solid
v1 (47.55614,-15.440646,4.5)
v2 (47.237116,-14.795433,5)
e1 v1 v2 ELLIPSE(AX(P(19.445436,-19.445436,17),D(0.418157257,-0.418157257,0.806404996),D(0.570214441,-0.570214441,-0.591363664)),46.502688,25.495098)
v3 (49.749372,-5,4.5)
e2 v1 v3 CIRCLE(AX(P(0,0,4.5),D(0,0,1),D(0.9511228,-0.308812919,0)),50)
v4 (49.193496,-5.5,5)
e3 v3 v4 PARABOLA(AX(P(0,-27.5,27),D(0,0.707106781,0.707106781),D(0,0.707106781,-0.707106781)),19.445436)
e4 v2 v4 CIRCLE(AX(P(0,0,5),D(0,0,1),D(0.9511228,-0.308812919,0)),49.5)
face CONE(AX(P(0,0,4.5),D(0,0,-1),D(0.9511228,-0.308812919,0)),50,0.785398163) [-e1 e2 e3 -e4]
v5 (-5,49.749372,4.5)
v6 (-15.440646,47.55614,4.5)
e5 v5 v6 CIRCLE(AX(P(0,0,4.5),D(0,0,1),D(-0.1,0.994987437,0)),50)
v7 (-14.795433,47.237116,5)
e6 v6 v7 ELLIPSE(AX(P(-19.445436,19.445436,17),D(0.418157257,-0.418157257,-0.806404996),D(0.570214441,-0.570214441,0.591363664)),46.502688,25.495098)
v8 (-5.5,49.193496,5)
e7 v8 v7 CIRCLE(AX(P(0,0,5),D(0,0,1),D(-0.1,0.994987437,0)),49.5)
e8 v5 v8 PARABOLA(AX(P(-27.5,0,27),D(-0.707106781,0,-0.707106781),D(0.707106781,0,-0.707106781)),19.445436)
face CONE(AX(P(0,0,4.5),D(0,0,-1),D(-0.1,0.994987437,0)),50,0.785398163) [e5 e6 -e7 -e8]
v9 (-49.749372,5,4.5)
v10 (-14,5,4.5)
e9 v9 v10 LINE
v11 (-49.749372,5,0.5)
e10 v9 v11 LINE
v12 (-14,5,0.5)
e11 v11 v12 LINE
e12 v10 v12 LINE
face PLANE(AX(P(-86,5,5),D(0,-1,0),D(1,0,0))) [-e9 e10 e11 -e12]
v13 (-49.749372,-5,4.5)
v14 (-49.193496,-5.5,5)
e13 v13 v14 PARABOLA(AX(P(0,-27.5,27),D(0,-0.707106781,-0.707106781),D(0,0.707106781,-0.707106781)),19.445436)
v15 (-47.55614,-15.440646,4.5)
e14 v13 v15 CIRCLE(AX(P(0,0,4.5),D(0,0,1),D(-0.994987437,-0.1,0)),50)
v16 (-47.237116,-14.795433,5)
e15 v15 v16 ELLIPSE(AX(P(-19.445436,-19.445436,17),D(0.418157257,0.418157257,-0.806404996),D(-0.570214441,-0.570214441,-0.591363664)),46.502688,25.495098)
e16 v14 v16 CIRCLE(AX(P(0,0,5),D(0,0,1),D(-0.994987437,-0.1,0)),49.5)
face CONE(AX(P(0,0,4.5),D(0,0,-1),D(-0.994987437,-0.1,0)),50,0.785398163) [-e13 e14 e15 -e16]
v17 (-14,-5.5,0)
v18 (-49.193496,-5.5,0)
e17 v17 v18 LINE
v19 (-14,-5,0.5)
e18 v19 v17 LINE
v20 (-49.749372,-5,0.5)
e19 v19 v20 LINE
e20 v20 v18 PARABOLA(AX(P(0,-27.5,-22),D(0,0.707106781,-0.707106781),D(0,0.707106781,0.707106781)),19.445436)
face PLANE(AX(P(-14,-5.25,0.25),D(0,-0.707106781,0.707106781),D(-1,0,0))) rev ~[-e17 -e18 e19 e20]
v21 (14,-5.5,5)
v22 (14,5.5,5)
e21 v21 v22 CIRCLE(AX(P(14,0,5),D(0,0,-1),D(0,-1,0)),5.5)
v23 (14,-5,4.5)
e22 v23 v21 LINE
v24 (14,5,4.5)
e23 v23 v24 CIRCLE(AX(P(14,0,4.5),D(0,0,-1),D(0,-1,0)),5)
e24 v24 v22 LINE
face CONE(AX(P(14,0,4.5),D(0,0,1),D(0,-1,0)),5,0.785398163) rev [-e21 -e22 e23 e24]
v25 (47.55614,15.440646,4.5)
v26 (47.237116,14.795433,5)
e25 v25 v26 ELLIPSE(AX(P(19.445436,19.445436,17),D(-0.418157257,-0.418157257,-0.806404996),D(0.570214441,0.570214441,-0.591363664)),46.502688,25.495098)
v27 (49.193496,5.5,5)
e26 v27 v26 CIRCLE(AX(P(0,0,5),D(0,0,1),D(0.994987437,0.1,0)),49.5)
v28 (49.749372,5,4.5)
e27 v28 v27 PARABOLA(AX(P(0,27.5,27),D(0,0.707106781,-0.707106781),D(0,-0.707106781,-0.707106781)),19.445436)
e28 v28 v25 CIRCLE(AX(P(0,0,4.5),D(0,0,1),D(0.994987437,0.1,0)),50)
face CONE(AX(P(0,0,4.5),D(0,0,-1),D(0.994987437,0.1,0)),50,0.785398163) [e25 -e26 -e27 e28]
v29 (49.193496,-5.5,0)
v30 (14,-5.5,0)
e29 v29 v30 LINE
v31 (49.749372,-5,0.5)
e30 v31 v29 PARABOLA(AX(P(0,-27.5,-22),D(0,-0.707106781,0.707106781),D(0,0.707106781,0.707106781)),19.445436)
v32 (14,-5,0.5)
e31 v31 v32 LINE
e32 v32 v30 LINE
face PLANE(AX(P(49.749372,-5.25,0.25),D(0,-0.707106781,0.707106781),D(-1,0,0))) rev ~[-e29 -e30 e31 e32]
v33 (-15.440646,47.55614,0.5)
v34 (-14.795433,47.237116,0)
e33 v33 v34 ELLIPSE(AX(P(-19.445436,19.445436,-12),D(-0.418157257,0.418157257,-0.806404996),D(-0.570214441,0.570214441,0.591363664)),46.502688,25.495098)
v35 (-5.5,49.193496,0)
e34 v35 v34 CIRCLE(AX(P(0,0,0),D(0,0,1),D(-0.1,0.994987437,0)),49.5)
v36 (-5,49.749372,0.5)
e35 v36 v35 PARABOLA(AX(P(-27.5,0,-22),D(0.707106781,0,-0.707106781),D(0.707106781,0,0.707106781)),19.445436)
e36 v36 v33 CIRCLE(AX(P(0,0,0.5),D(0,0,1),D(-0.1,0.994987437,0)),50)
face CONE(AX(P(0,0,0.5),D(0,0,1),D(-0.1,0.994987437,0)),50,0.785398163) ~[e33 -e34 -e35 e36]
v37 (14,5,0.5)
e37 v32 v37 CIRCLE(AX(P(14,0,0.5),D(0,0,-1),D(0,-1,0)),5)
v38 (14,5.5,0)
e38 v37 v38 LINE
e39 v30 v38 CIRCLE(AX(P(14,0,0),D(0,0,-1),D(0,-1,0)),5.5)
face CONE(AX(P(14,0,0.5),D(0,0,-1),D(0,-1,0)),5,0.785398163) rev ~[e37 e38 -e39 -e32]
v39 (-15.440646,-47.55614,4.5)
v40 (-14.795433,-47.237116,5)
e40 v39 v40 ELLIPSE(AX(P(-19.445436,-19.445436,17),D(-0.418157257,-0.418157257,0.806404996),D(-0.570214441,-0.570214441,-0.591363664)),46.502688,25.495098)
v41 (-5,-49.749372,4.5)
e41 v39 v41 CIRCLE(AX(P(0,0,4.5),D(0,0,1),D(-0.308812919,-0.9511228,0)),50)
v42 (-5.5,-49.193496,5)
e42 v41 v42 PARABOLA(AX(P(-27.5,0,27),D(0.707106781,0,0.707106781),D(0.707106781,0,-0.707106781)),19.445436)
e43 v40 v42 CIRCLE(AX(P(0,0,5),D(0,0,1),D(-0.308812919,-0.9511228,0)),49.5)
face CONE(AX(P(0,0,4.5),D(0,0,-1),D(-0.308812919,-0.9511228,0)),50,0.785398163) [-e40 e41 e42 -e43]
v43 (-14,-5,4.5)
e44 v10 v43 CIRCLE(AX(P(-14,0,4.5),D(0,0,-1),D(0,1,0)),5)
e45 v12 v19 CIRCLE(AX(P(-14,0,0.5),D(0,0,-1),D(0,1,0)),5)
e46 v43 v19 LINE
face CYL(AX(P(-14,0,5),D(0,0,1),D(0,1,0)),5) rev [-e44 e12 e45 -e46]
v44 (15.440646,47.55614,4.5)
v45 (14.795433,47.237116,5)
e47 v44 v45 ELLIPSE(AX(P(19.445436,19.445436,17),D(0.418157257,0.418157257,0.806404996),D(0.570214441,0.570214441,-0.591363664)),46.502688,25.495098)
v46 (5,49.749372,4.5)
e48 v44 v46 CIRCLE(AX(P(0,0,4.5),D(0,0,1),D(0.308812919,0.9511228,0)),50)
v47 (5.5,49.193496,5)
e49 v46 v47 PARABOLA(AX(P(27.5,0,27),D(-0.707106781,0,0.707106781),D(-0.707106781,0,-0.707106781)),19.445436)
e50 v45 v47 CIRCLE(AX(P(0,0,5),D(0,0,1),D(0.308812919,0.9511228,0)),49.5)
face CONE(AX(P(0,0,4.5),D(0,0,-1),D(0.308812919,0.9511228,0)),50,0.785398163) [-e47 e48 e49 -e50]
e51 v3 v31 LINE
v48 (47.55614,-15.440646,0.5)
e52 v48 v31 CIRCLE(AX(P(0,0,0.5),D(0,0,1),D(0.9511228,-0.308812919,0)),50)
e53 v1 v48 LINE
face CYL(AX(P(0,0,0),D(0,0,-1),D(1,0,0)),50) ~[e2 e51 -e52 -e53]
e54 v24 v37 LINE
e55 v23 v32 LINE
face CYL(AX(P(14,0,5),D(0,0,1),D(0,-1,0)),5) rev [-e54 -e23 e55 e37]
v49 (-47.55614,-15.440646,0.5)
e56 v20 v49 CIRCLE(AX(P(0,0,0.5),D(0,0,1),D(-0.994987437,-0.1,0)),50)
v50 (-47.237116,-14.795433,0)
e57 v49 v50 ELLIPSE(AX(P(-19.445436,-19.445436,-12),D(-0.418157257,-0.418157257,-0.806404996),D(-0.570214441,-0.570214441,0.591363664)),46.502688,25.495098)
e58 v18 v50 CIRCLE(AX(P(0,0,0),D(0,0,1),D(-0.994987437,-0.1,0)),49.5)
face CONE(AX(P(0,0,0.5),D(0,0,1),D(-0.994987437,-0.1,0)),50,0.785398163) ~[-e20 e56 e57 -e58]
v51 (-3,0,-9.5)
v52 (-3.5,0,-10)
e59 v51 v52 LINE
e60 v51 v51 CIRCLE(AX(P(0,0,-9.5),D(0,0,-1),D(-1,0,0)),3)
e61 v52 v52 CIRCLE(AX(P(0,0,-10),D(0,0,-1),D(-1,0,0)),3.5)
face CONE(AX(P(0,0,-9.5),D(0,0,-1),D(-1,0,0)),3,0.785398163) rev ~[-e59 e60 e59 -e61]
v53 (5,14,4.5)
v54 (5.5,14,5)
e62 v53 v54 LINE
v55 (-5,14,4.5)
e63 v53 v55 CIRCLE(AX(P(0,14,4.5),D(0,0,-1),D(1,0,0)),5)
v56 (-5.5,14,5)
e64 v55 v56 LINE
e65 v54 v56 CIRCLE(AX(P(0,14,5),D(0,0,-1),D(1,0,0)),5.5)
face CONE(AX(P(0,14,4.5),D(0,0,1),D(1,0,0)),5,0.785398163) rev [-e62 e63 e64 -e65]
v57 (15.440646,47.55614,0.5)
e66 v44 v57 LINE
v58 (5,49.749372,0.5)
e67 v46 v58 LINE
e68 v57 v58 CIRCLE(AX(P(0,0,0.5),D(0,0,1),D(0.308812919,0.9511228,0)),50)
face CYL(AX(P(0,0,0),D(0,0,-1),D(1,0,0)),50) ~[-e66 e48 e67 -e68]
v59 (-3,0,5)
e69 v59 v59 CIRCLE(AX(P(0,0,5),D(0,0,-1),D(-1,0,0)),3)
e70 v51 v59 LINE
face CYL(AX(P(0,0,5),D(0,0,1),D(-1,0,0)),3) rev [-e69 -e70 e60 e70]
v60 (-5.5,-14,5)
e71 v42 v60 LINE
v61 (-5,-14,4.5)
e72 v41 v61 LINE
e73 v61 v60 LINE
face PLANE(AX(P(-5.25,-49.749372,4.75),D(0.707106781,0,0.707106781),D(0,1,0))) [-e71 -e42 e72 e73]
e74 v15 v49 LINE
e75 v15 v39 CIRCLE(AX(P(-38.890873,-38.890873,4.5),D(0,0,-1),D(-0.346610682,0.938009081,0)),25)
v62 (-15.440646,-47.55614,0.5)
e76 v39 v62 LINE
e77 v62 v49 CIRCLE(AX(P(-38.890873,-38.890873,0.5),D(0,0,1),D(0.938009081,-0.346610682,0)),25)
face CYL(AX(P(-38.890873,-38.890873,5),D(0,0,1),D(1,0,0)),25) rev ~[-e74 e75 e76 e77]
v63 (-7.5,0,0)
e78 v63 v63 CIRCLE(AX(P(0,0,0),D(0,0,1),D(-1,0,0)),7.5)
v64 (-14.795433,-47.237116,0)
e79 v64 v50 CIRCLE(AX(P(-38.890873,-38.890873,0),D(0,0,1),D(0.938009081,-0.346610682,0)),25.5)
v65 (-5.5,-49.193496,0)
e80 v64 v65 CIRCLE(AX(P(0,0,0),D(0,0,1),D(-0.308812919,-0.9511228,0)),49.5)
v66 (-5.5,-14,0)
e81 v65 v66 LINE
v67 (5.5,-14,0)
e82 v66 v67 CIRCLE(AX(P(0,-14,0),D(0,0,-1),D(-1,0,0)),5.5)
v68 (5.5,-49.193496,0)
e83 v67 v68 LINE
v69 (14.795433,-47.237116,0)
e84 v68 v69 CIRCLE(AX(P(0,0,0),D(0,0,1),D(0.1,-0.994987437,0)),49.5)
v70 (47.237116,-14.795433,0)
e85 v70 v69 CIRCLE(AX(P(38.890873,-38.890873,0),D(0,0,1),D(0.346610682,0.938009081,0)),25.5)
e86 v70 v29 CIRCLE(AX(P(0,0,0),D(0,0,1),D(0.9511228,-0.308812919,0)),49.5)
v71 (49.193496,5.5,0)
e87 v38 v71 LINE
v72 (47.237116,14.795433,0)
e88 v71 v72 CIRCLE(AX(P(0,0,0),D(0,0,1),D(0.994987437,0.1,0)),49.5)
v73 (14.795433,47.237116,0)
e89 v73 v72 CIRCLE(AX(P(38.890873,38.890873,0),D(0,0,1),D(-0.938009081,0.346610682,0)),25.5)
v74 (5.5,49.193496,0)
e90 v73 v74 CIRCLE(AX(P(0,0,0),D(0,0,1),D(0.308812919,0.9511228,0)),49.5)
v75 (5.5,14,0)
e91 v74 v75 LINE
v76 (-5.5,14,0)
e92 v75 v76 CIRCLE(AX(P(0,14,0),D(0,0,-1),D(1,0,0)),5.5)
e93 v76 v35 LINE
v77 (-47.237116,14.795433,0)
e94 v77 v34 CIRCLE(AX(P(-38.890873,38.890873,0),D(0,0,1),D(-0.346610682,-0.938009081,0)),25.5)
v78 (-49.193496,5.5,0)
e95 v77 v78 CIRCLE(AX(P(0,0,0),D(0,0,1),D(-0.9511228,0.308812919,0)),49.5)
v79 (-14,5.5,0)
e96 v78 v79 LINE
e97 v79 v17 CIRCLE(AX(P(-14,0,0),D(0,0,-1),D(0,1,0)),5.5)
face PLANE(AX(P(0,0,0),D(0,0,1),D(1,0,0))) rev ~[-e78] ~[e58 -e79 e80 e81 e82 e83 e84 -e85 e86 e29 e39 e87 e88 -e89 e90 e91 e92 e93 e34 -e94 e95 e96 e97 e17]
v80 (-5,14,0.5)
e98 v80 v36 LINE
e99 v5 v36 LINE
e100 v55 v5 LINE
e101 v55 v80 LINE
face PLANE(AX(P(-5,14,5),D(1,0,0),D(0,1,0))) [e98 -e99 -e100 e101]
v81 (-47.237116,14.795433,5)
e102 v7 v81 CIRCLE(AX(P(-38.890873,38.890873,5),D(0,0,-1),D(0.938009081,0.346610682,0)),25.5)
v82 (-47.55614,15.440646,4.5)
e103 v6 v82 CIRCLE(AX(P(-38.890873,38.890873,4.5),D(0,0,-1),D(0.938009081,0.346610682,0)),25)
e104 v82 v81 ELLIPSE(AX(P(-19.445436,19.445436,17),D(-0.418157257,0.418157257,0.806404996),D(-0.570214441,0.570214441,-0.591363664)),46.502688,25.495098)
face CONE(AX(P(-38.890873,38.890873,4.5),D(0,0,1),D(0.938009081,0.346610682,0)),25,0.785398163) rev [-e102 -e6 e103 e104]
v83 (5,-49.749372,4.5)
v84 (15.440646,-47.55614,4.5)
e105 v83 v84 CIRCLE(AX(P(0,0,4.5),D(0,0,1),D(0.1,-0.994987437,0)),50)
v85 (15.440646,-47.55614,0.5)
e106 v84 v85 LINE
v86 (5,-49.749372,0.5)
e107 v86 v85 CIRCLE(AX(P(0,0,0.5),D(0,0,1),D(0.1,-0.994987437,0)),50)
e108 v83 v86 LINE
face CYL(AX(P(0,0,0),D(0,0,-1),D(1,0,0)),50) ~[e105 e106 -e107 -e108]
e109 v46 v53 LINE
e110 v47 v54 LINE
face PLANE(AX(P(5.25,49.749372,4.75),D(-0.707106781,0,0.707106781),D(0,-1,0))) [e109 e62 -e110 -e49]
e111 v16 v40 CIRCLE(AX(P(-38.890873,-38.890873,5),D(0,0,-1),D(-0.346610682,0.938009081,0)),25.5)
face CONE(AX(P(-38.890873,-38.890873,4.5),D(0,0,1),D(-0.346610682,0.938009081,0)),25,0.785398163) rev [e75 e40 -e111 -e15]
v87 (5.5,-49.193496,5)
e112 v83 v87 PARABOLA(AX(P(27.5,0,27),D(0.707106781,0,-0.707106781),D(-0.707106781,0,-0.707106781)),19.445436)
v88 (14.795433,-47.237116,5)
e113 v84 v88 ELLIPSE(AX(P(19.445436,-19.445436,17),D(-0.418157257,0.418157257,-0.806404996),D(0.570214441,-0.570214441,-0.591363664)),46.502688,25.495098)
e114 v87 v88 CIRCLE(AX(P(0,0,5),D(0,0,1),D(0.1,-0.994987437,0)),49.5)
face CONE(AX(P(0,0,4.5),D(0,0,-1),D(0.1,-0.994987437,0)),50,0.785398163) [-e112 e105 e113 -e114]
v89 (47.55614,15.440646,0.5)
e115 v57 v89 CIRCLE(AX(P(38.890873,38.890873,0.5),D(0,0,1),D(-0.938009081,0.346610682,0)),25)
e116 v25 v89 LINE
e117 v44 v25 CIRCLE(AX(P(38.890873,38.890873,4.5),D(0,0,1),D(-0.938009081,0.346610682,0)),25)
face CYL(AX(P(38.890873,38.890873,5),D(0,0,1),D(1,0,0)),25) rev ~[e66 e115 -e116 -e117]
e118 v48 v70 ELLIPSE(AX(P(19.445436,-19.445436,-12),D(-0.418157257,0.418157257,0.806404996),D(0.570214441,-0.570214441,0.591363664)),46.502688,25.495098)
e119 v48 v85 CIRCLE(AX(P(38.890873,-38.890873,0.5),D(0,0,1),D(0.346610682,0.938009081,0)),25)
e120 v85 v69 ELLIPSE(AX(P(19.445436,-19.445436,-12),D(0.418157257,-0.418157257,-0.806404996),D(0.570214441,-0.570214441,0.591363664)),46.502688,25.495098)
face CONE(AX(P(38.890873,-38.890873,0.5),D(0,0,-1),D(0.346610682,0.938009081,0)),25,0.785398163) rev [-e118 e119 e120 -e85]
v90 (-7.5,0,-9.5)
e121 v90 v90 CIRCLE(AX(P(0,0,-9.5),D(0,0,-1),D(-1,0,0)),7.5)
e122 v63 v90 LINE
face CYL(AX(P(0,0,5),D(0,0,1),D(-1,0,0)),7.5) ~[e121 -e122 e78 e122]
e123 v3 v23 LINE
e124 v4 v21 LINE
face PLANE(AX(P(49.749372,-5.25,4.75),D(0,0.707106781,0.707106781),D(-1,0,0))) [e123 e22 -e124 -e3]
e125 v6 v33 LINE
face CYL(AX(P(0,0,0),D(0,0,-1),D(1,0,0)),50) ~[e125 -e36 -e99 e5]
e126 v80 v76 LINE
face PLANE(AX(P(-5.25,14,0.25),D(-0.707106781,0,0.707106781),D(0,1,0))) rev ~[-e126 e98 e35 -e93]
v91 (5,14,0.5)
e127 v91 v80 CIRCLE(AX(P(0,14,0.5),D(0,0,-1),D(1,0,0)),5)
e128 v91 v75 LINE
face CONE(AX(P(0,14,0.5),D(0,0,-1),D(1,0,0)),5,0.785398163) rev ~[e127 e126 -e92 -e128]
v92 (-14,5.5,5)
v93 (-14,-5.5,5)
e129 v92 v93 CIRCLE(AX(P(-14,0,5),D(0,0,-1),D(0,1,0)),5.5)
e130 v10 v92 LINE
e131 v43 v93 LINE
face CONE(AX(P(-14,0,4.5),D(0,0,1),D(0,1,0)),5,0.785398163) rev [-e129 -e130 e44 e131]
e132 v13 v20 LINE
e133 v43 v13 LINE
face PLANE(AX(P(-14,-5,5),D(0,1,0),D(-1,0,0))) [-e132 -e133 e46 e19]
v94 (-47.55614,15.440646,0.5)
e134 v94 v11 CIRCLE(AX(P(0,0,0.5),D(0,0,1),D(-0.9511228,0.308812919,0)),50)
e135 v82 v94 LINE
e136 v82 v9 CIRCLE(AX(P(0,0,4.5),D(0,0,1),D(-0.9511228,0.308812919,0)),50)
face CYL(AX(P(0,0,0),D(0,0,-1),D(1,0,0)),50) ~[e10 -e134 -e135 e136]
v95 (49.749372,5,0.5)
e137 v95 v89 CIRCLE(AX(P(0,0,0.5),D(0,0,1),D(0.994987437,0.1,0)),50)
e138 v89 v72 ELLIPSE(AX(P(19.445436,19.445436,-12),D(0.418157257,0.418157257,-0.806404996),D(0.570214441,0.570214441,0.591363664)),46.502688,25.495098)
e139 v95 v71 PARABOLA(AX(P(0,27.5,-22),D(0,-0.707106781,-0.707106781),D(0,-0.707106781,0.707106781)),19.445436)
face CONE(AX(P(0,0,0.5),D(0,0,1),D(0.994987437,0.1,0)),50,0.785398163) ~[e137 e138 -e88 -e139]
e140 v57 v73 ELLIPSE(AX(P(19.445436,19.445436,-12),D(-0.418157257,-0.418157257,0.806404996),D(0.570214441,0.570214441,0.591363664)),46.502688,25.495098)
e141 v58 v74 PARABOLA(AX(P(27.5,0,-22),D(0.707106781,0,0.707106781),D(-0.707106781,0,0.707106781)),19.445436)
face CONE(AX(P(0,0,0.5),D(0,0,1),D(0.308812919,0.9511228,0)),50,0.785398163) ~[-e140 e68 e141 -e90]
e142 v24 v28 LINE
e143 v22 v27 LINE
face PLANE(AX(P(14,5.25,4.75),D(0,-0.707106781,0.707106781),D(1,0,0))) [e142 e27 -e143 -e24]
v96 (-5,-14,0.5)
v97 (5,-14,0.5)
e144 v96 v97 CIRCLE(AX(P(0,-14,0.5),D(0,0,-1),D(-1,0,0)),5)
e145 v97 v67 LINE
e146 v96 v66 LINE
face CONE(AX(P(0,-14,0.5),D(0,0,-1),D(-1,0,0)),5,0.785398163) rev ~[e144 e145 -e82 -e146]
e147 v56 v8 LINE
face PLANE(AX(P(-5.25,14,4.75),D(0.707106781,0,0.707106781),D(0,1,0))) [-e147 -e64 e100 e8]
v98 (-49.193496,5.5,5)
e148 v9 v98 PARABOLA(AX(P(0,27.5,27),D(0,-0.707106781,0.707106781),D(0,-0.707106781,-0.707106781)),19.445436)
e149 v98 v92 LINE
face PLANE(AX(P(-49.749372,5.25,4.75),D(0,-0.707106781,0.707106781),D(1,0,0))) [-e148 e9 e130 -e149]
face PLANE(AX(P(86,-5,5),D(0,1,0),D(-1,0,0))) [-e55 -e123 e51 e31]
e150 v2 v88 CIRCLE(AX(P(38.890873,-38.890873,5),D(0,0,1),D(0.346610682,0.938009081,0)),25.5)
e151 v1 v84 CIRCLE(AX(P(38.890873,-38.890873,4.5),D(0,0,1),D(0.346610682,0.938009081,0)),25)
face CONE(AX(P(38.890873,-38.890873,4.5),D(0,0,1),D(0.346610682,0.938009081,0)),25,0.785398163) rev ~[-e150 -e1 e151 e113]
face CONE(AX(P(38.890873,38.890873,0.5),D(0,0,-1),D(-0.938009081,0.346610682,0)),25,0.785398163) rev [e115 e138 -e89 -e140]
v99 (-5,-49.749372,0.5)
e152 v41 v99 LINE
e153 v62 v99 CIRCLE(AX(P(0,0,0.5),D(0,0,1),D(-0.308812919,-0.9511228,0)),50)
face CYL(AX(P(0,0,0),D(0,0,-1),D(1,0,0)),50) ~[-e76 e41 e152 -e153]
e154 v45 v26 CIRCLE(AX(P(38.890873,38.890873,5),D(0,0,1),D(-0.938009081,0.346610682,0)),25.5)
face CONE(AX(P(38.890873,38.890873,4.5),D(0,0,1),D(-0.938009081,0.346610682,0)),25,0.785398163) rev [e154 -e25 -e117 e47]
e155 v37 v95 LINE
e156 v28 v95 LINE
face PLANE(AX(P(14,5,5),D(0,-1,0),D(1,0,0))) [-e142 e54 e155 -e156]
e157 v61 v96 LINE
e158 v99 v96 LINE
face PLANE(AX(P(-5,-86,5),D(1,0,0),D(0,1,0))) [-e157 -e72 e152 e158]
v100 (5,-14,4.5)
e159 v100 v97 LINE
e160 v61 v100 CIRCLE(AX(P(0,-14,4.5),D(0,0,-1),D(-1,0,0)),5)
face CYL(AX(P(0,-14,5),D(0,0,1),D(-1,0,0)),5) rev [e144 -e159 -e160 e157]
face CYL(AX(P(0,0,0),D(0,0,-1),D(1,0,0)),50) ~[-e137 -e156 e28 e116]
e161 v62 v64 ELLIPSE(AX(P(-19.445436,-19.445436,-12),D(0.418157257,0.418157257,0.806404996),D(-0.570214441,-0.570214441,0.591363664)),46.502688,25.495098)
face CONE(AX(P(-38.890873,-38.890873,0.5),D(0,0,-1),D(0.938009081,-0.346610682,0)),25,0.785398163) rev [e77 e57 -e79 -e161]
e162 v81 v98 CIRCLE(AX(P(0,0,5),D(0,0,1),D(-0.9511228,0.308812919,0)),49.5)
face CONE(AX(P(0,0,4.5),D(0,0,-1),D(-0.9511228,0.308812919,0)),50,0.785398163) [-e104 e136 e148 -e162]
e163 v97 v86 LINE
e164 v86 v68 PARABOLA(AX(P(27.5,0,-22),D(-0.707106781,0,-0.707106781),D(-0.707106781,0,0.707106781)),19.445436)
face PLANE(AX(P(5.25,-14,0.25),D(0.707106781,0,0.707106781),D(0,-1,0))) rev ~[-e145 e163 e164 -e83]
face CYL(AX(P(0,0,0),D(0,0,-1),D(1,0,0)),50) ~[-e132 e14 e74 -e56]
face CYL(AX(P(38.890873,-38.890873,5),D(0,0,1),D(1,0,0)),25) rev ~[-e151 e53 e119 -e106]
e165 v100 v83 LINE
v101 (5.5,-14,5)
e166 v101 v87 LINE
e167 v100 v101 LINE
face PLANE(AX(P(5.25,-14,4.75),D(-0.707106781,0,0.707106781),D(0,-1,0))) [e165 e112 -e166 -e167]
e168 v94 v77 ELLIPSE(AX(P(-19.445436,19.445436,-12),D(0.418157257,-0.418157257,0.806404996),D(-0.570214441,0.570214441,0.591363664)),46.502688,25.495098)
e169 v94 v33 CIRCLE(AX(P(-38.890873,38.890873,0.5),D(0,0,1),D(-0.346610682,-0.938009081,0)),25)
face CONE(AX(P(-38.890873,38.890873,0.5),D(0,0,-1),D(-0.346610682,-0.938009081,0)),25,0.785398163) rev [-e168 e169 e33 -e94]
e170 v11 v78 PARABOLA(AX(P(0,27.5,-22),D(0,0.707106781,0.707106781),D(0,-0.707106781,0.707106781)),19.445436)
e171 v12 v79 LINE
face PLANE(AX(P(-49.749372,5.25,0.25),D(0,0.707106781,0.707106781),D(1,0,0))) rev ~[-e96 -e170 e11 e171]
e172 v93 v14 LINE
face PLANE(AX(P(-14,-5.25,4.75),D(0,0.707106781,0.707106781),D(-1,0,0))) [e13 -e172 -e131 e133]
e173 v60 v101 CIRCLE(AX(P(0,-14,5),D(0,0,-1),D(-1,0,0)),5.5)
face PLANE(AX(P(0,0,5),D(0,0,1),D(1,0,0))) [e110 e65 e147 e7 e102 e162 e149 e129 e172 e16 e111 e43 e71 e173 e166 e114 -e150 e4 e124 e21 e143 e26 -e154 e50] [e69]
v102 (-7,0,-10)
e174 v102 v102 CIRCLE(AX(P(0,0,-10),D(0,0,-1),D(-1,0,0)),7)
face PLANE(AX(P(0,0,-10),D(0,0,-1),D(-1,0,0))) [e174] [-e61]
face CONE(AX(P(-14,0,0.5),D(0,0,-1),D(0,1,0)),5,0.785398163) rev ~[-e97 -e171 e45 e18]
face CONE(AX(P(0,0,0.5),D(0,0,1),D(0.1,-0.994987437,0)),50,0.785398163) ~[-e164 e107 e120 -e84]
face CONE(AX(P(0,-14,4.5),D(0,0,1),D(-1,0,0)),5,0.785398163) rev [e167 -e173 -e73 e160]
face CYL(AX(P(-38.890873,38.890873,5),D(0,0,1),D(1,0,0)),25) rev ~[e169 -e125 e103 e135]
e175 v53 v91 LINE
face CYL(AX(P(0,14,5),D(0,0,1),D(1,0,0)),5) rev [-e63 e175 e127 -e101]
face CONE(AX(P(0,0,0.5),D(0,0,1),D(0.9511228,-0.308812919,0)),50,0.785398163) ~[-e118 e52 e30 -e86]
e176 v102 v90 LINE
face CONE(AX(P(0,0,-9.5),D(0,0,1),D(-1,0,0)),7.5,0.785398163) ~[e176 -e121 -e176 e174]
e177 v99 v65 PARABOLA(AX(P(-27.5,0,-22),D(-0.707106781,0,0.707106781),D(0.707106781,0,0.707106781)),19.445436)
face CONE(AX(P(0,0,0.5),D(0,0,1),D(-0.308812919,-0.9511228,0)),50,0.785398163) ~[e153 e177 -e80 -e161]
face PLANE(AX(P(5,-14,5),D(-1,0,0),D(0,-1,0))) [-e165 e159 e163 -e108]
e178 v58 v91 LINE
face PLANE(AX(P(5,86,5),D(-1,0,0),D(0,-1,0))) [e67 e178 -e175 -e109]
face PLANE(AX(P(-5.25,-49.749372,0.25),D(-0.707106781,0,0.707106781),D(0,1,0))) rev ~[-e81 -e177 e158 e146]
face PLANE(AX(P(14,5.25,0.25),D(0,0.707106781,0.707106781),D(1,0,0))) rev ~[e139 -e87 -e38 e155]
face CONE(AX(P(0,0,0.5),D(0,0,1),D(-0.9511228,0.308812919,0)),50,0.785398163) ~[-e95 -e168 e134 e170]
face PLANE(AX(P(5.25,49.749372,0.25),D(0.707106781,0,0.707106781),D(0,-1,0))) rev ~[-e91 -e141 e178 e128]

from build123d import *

# Parameters (mm, degrees)
SKETCH1_R                = 50
SKETCH1_R_2              = 3
BOSS_EXTRUDE1_DEPTH      = 5
SKETCH2_R                = 25
CUT_EXTRUDE1_DEPTH       = 71.887234394
CHAMFER1_SIZE            = 0.5
BOSS_EXTRUDE3_DEPTH      = 10
BOSS_EXTRUDE3_DEPTH_BACK = 5
SKETCH4_R                = 7.5
SKETCH4_R_2              = 3
CHAMFER2_SIZE            = 0.5


with BuildPart() as part:
    # Sketch1 → Boss-Extrude1 (new body)
    with BuildSketch(Plane.XY):
        Circle(SKETCH1_R)
        Circle(SKETCH1_R_2, mode=Mode.SUBTRACT)
    extrude(amount=BOSS_EXTRUDE1_DEPTH)

    # Sketch2 → Cut-Extrude1 (cut, through all)
    with BuildSketch(Plane.XY.offset(5)):
        with Locations((38.890872965, 38.890872965)):
            Circle(SKETCH2_R)
        with Locations((38.890872965, -38.890872965)):
            Circle(SKETCH2_R)
        with Locations((-38.890872965, -38.890872965)):
            Circle(SKETCH2_R)
        with Locations((-38.890872965, 38.890872965)):
            Circle(SKETCH2_R)
        with BuildLine():
            Line((-5, 14), (-5, 86))
            ThreePointArc((-5, 86), (0, 91), (5, 86))
            Line((5, 86), (5, 14))
            ThreePointArc((5, 14), (0, 9), (-5, 14))
        make_face()
        with BuildLine():
            Line((14, 5), (86, 5))
            ThreePointArc((86, 5), (91, 0), (86, -5))
            Line((86, -5), (14, -5))
            ThreePointArc((14, -5), (9, 0), (14, 5))
        make_face()
        with BuildLine():
            Line((5, -14), (5, -86))
            ThreePointArc((5, -86), (0, -91), (-5, -86))
            Line((-5, -86), (-5, -14))
            ThreePointArc((-5, -14), (0, -9), (5, -14))
        make_face()
        with BuildLine():
            Line((-14, -5), (-86, -5))
            ThreePointArc((-86, -5), (-91, 0), (-86, 5))
            Line((-86, 5), (-14, 5))
            ThreePointArc((-14, 5), (-9, 0), (-14, -5))
        make_face()
    extrude(amount=-CUT_EXTRUDE1_DEPTH, mode=Mode.SUBTRACT)

    # Chamfer1
    chamfer1_edges = [part.edges().sort_by_distance(p)[0] for p in [
        (-10.27898673, 48.932018473, 0),
        (-5, 31.874685928, 0),
        (5, 31.874685928, 0),
        (5, 31.874685928, 5),
        (-5, 31.874685928, 5),
        (0, 9, 5),
        (0, 9, 0),
        (-48.932018473, 10.27898673, 5),
        (-48.932018473, -10.27898673, 5),
        (-10.27898673, -48.932018473, 5),
        (10.27898673, -48.932018473, 5),
        (48.932018473, -10.27898673, 5),
        (48.932018473, 10.27898673, 5),
        (10.27898673, 48.932018473, 5),
        (-48.932018473, 10.27898673, 0),
        (-48.932018473, -10.27898673, 0),
        (-10.27898673, -48.932018473, 0),
        (10.27898673, -48.932018473, 0),
        (48.932018473, -10.27898673, 0),
        (48.932018473, 10.27898673, 0),
        (10.27898673, 48.932018473, 0),
        (-3, 0, 0),
        (-3, 0, 5),
        (-31.874685928, -5, 0),
        (-31.874685928, 5, 0),
        (-31.874685928, 5, 5),
        (-31.874685928, -5, 5),
        (-9, 0, 5),
        (-9, 0, 0),
        (21.213203436, -21.213203436, 0),
        (21.213203436, -21.213203436, 5),
        (-21.213203436, -21.213203436, 0),
        (-21.213203436, -21.213203436, 5),
        (-21.213203436, 21.213203436, 0),
        (-21.213203436, 21.213203436, 5),
        (5, -31.874685928, 0),
        (-5, -31.874685928, 0),
        (-5, -31.874685928, 5),
        (5, -31.874685928, 5),
        (0, -9, 5),
        (0, -9, 0),
        (31.874685928, 5, 0),
        (31.874685928, -5, 0),
        (31.874685928, -5, 5),
        (31.874685928, 5, 5),
        (9, 0, 5),
        (9, 0, 0),
        (21.213203436, 21.213203436, 0),
        (21.213203436, 21.213203436, 5),
        (-10.27898673, 48.932018473, 5),
    ]]
    chamfer(chamfer1_edges, length=CHAMFER1_SIZE)

    # Sketch4 → Boss-Extrude3 (add, two sides: drawn at the far end of the back side and taken through both)
    with BuildSketch(Plane(origin=(0, 0, 0), x_dir=(-1, 0, 0), z_dir=(0, 0, -1)).offset(-BOSS_EXTRUDE3_DEPTH_BACK)):
        Circle(SKETCH4_R)
        Circle(SKETCH4_R_2, mode=Mode.SUBTRACT)
    extrude(amount=BOSS_EXTRUDE3_DEPTH + BOSS_EXTRUDE3_DEPTH_BACK)

    # Chamfer2
    chamfer2_edges = [part.edges().sort_by_distance(p)[0] for p in [
        (3, 0, -10),
        (7.5, 0, -10),
    ]]
    chamfer(chamfer2_edges, length=CHAMFER2_SIZE)


solid = part.part
